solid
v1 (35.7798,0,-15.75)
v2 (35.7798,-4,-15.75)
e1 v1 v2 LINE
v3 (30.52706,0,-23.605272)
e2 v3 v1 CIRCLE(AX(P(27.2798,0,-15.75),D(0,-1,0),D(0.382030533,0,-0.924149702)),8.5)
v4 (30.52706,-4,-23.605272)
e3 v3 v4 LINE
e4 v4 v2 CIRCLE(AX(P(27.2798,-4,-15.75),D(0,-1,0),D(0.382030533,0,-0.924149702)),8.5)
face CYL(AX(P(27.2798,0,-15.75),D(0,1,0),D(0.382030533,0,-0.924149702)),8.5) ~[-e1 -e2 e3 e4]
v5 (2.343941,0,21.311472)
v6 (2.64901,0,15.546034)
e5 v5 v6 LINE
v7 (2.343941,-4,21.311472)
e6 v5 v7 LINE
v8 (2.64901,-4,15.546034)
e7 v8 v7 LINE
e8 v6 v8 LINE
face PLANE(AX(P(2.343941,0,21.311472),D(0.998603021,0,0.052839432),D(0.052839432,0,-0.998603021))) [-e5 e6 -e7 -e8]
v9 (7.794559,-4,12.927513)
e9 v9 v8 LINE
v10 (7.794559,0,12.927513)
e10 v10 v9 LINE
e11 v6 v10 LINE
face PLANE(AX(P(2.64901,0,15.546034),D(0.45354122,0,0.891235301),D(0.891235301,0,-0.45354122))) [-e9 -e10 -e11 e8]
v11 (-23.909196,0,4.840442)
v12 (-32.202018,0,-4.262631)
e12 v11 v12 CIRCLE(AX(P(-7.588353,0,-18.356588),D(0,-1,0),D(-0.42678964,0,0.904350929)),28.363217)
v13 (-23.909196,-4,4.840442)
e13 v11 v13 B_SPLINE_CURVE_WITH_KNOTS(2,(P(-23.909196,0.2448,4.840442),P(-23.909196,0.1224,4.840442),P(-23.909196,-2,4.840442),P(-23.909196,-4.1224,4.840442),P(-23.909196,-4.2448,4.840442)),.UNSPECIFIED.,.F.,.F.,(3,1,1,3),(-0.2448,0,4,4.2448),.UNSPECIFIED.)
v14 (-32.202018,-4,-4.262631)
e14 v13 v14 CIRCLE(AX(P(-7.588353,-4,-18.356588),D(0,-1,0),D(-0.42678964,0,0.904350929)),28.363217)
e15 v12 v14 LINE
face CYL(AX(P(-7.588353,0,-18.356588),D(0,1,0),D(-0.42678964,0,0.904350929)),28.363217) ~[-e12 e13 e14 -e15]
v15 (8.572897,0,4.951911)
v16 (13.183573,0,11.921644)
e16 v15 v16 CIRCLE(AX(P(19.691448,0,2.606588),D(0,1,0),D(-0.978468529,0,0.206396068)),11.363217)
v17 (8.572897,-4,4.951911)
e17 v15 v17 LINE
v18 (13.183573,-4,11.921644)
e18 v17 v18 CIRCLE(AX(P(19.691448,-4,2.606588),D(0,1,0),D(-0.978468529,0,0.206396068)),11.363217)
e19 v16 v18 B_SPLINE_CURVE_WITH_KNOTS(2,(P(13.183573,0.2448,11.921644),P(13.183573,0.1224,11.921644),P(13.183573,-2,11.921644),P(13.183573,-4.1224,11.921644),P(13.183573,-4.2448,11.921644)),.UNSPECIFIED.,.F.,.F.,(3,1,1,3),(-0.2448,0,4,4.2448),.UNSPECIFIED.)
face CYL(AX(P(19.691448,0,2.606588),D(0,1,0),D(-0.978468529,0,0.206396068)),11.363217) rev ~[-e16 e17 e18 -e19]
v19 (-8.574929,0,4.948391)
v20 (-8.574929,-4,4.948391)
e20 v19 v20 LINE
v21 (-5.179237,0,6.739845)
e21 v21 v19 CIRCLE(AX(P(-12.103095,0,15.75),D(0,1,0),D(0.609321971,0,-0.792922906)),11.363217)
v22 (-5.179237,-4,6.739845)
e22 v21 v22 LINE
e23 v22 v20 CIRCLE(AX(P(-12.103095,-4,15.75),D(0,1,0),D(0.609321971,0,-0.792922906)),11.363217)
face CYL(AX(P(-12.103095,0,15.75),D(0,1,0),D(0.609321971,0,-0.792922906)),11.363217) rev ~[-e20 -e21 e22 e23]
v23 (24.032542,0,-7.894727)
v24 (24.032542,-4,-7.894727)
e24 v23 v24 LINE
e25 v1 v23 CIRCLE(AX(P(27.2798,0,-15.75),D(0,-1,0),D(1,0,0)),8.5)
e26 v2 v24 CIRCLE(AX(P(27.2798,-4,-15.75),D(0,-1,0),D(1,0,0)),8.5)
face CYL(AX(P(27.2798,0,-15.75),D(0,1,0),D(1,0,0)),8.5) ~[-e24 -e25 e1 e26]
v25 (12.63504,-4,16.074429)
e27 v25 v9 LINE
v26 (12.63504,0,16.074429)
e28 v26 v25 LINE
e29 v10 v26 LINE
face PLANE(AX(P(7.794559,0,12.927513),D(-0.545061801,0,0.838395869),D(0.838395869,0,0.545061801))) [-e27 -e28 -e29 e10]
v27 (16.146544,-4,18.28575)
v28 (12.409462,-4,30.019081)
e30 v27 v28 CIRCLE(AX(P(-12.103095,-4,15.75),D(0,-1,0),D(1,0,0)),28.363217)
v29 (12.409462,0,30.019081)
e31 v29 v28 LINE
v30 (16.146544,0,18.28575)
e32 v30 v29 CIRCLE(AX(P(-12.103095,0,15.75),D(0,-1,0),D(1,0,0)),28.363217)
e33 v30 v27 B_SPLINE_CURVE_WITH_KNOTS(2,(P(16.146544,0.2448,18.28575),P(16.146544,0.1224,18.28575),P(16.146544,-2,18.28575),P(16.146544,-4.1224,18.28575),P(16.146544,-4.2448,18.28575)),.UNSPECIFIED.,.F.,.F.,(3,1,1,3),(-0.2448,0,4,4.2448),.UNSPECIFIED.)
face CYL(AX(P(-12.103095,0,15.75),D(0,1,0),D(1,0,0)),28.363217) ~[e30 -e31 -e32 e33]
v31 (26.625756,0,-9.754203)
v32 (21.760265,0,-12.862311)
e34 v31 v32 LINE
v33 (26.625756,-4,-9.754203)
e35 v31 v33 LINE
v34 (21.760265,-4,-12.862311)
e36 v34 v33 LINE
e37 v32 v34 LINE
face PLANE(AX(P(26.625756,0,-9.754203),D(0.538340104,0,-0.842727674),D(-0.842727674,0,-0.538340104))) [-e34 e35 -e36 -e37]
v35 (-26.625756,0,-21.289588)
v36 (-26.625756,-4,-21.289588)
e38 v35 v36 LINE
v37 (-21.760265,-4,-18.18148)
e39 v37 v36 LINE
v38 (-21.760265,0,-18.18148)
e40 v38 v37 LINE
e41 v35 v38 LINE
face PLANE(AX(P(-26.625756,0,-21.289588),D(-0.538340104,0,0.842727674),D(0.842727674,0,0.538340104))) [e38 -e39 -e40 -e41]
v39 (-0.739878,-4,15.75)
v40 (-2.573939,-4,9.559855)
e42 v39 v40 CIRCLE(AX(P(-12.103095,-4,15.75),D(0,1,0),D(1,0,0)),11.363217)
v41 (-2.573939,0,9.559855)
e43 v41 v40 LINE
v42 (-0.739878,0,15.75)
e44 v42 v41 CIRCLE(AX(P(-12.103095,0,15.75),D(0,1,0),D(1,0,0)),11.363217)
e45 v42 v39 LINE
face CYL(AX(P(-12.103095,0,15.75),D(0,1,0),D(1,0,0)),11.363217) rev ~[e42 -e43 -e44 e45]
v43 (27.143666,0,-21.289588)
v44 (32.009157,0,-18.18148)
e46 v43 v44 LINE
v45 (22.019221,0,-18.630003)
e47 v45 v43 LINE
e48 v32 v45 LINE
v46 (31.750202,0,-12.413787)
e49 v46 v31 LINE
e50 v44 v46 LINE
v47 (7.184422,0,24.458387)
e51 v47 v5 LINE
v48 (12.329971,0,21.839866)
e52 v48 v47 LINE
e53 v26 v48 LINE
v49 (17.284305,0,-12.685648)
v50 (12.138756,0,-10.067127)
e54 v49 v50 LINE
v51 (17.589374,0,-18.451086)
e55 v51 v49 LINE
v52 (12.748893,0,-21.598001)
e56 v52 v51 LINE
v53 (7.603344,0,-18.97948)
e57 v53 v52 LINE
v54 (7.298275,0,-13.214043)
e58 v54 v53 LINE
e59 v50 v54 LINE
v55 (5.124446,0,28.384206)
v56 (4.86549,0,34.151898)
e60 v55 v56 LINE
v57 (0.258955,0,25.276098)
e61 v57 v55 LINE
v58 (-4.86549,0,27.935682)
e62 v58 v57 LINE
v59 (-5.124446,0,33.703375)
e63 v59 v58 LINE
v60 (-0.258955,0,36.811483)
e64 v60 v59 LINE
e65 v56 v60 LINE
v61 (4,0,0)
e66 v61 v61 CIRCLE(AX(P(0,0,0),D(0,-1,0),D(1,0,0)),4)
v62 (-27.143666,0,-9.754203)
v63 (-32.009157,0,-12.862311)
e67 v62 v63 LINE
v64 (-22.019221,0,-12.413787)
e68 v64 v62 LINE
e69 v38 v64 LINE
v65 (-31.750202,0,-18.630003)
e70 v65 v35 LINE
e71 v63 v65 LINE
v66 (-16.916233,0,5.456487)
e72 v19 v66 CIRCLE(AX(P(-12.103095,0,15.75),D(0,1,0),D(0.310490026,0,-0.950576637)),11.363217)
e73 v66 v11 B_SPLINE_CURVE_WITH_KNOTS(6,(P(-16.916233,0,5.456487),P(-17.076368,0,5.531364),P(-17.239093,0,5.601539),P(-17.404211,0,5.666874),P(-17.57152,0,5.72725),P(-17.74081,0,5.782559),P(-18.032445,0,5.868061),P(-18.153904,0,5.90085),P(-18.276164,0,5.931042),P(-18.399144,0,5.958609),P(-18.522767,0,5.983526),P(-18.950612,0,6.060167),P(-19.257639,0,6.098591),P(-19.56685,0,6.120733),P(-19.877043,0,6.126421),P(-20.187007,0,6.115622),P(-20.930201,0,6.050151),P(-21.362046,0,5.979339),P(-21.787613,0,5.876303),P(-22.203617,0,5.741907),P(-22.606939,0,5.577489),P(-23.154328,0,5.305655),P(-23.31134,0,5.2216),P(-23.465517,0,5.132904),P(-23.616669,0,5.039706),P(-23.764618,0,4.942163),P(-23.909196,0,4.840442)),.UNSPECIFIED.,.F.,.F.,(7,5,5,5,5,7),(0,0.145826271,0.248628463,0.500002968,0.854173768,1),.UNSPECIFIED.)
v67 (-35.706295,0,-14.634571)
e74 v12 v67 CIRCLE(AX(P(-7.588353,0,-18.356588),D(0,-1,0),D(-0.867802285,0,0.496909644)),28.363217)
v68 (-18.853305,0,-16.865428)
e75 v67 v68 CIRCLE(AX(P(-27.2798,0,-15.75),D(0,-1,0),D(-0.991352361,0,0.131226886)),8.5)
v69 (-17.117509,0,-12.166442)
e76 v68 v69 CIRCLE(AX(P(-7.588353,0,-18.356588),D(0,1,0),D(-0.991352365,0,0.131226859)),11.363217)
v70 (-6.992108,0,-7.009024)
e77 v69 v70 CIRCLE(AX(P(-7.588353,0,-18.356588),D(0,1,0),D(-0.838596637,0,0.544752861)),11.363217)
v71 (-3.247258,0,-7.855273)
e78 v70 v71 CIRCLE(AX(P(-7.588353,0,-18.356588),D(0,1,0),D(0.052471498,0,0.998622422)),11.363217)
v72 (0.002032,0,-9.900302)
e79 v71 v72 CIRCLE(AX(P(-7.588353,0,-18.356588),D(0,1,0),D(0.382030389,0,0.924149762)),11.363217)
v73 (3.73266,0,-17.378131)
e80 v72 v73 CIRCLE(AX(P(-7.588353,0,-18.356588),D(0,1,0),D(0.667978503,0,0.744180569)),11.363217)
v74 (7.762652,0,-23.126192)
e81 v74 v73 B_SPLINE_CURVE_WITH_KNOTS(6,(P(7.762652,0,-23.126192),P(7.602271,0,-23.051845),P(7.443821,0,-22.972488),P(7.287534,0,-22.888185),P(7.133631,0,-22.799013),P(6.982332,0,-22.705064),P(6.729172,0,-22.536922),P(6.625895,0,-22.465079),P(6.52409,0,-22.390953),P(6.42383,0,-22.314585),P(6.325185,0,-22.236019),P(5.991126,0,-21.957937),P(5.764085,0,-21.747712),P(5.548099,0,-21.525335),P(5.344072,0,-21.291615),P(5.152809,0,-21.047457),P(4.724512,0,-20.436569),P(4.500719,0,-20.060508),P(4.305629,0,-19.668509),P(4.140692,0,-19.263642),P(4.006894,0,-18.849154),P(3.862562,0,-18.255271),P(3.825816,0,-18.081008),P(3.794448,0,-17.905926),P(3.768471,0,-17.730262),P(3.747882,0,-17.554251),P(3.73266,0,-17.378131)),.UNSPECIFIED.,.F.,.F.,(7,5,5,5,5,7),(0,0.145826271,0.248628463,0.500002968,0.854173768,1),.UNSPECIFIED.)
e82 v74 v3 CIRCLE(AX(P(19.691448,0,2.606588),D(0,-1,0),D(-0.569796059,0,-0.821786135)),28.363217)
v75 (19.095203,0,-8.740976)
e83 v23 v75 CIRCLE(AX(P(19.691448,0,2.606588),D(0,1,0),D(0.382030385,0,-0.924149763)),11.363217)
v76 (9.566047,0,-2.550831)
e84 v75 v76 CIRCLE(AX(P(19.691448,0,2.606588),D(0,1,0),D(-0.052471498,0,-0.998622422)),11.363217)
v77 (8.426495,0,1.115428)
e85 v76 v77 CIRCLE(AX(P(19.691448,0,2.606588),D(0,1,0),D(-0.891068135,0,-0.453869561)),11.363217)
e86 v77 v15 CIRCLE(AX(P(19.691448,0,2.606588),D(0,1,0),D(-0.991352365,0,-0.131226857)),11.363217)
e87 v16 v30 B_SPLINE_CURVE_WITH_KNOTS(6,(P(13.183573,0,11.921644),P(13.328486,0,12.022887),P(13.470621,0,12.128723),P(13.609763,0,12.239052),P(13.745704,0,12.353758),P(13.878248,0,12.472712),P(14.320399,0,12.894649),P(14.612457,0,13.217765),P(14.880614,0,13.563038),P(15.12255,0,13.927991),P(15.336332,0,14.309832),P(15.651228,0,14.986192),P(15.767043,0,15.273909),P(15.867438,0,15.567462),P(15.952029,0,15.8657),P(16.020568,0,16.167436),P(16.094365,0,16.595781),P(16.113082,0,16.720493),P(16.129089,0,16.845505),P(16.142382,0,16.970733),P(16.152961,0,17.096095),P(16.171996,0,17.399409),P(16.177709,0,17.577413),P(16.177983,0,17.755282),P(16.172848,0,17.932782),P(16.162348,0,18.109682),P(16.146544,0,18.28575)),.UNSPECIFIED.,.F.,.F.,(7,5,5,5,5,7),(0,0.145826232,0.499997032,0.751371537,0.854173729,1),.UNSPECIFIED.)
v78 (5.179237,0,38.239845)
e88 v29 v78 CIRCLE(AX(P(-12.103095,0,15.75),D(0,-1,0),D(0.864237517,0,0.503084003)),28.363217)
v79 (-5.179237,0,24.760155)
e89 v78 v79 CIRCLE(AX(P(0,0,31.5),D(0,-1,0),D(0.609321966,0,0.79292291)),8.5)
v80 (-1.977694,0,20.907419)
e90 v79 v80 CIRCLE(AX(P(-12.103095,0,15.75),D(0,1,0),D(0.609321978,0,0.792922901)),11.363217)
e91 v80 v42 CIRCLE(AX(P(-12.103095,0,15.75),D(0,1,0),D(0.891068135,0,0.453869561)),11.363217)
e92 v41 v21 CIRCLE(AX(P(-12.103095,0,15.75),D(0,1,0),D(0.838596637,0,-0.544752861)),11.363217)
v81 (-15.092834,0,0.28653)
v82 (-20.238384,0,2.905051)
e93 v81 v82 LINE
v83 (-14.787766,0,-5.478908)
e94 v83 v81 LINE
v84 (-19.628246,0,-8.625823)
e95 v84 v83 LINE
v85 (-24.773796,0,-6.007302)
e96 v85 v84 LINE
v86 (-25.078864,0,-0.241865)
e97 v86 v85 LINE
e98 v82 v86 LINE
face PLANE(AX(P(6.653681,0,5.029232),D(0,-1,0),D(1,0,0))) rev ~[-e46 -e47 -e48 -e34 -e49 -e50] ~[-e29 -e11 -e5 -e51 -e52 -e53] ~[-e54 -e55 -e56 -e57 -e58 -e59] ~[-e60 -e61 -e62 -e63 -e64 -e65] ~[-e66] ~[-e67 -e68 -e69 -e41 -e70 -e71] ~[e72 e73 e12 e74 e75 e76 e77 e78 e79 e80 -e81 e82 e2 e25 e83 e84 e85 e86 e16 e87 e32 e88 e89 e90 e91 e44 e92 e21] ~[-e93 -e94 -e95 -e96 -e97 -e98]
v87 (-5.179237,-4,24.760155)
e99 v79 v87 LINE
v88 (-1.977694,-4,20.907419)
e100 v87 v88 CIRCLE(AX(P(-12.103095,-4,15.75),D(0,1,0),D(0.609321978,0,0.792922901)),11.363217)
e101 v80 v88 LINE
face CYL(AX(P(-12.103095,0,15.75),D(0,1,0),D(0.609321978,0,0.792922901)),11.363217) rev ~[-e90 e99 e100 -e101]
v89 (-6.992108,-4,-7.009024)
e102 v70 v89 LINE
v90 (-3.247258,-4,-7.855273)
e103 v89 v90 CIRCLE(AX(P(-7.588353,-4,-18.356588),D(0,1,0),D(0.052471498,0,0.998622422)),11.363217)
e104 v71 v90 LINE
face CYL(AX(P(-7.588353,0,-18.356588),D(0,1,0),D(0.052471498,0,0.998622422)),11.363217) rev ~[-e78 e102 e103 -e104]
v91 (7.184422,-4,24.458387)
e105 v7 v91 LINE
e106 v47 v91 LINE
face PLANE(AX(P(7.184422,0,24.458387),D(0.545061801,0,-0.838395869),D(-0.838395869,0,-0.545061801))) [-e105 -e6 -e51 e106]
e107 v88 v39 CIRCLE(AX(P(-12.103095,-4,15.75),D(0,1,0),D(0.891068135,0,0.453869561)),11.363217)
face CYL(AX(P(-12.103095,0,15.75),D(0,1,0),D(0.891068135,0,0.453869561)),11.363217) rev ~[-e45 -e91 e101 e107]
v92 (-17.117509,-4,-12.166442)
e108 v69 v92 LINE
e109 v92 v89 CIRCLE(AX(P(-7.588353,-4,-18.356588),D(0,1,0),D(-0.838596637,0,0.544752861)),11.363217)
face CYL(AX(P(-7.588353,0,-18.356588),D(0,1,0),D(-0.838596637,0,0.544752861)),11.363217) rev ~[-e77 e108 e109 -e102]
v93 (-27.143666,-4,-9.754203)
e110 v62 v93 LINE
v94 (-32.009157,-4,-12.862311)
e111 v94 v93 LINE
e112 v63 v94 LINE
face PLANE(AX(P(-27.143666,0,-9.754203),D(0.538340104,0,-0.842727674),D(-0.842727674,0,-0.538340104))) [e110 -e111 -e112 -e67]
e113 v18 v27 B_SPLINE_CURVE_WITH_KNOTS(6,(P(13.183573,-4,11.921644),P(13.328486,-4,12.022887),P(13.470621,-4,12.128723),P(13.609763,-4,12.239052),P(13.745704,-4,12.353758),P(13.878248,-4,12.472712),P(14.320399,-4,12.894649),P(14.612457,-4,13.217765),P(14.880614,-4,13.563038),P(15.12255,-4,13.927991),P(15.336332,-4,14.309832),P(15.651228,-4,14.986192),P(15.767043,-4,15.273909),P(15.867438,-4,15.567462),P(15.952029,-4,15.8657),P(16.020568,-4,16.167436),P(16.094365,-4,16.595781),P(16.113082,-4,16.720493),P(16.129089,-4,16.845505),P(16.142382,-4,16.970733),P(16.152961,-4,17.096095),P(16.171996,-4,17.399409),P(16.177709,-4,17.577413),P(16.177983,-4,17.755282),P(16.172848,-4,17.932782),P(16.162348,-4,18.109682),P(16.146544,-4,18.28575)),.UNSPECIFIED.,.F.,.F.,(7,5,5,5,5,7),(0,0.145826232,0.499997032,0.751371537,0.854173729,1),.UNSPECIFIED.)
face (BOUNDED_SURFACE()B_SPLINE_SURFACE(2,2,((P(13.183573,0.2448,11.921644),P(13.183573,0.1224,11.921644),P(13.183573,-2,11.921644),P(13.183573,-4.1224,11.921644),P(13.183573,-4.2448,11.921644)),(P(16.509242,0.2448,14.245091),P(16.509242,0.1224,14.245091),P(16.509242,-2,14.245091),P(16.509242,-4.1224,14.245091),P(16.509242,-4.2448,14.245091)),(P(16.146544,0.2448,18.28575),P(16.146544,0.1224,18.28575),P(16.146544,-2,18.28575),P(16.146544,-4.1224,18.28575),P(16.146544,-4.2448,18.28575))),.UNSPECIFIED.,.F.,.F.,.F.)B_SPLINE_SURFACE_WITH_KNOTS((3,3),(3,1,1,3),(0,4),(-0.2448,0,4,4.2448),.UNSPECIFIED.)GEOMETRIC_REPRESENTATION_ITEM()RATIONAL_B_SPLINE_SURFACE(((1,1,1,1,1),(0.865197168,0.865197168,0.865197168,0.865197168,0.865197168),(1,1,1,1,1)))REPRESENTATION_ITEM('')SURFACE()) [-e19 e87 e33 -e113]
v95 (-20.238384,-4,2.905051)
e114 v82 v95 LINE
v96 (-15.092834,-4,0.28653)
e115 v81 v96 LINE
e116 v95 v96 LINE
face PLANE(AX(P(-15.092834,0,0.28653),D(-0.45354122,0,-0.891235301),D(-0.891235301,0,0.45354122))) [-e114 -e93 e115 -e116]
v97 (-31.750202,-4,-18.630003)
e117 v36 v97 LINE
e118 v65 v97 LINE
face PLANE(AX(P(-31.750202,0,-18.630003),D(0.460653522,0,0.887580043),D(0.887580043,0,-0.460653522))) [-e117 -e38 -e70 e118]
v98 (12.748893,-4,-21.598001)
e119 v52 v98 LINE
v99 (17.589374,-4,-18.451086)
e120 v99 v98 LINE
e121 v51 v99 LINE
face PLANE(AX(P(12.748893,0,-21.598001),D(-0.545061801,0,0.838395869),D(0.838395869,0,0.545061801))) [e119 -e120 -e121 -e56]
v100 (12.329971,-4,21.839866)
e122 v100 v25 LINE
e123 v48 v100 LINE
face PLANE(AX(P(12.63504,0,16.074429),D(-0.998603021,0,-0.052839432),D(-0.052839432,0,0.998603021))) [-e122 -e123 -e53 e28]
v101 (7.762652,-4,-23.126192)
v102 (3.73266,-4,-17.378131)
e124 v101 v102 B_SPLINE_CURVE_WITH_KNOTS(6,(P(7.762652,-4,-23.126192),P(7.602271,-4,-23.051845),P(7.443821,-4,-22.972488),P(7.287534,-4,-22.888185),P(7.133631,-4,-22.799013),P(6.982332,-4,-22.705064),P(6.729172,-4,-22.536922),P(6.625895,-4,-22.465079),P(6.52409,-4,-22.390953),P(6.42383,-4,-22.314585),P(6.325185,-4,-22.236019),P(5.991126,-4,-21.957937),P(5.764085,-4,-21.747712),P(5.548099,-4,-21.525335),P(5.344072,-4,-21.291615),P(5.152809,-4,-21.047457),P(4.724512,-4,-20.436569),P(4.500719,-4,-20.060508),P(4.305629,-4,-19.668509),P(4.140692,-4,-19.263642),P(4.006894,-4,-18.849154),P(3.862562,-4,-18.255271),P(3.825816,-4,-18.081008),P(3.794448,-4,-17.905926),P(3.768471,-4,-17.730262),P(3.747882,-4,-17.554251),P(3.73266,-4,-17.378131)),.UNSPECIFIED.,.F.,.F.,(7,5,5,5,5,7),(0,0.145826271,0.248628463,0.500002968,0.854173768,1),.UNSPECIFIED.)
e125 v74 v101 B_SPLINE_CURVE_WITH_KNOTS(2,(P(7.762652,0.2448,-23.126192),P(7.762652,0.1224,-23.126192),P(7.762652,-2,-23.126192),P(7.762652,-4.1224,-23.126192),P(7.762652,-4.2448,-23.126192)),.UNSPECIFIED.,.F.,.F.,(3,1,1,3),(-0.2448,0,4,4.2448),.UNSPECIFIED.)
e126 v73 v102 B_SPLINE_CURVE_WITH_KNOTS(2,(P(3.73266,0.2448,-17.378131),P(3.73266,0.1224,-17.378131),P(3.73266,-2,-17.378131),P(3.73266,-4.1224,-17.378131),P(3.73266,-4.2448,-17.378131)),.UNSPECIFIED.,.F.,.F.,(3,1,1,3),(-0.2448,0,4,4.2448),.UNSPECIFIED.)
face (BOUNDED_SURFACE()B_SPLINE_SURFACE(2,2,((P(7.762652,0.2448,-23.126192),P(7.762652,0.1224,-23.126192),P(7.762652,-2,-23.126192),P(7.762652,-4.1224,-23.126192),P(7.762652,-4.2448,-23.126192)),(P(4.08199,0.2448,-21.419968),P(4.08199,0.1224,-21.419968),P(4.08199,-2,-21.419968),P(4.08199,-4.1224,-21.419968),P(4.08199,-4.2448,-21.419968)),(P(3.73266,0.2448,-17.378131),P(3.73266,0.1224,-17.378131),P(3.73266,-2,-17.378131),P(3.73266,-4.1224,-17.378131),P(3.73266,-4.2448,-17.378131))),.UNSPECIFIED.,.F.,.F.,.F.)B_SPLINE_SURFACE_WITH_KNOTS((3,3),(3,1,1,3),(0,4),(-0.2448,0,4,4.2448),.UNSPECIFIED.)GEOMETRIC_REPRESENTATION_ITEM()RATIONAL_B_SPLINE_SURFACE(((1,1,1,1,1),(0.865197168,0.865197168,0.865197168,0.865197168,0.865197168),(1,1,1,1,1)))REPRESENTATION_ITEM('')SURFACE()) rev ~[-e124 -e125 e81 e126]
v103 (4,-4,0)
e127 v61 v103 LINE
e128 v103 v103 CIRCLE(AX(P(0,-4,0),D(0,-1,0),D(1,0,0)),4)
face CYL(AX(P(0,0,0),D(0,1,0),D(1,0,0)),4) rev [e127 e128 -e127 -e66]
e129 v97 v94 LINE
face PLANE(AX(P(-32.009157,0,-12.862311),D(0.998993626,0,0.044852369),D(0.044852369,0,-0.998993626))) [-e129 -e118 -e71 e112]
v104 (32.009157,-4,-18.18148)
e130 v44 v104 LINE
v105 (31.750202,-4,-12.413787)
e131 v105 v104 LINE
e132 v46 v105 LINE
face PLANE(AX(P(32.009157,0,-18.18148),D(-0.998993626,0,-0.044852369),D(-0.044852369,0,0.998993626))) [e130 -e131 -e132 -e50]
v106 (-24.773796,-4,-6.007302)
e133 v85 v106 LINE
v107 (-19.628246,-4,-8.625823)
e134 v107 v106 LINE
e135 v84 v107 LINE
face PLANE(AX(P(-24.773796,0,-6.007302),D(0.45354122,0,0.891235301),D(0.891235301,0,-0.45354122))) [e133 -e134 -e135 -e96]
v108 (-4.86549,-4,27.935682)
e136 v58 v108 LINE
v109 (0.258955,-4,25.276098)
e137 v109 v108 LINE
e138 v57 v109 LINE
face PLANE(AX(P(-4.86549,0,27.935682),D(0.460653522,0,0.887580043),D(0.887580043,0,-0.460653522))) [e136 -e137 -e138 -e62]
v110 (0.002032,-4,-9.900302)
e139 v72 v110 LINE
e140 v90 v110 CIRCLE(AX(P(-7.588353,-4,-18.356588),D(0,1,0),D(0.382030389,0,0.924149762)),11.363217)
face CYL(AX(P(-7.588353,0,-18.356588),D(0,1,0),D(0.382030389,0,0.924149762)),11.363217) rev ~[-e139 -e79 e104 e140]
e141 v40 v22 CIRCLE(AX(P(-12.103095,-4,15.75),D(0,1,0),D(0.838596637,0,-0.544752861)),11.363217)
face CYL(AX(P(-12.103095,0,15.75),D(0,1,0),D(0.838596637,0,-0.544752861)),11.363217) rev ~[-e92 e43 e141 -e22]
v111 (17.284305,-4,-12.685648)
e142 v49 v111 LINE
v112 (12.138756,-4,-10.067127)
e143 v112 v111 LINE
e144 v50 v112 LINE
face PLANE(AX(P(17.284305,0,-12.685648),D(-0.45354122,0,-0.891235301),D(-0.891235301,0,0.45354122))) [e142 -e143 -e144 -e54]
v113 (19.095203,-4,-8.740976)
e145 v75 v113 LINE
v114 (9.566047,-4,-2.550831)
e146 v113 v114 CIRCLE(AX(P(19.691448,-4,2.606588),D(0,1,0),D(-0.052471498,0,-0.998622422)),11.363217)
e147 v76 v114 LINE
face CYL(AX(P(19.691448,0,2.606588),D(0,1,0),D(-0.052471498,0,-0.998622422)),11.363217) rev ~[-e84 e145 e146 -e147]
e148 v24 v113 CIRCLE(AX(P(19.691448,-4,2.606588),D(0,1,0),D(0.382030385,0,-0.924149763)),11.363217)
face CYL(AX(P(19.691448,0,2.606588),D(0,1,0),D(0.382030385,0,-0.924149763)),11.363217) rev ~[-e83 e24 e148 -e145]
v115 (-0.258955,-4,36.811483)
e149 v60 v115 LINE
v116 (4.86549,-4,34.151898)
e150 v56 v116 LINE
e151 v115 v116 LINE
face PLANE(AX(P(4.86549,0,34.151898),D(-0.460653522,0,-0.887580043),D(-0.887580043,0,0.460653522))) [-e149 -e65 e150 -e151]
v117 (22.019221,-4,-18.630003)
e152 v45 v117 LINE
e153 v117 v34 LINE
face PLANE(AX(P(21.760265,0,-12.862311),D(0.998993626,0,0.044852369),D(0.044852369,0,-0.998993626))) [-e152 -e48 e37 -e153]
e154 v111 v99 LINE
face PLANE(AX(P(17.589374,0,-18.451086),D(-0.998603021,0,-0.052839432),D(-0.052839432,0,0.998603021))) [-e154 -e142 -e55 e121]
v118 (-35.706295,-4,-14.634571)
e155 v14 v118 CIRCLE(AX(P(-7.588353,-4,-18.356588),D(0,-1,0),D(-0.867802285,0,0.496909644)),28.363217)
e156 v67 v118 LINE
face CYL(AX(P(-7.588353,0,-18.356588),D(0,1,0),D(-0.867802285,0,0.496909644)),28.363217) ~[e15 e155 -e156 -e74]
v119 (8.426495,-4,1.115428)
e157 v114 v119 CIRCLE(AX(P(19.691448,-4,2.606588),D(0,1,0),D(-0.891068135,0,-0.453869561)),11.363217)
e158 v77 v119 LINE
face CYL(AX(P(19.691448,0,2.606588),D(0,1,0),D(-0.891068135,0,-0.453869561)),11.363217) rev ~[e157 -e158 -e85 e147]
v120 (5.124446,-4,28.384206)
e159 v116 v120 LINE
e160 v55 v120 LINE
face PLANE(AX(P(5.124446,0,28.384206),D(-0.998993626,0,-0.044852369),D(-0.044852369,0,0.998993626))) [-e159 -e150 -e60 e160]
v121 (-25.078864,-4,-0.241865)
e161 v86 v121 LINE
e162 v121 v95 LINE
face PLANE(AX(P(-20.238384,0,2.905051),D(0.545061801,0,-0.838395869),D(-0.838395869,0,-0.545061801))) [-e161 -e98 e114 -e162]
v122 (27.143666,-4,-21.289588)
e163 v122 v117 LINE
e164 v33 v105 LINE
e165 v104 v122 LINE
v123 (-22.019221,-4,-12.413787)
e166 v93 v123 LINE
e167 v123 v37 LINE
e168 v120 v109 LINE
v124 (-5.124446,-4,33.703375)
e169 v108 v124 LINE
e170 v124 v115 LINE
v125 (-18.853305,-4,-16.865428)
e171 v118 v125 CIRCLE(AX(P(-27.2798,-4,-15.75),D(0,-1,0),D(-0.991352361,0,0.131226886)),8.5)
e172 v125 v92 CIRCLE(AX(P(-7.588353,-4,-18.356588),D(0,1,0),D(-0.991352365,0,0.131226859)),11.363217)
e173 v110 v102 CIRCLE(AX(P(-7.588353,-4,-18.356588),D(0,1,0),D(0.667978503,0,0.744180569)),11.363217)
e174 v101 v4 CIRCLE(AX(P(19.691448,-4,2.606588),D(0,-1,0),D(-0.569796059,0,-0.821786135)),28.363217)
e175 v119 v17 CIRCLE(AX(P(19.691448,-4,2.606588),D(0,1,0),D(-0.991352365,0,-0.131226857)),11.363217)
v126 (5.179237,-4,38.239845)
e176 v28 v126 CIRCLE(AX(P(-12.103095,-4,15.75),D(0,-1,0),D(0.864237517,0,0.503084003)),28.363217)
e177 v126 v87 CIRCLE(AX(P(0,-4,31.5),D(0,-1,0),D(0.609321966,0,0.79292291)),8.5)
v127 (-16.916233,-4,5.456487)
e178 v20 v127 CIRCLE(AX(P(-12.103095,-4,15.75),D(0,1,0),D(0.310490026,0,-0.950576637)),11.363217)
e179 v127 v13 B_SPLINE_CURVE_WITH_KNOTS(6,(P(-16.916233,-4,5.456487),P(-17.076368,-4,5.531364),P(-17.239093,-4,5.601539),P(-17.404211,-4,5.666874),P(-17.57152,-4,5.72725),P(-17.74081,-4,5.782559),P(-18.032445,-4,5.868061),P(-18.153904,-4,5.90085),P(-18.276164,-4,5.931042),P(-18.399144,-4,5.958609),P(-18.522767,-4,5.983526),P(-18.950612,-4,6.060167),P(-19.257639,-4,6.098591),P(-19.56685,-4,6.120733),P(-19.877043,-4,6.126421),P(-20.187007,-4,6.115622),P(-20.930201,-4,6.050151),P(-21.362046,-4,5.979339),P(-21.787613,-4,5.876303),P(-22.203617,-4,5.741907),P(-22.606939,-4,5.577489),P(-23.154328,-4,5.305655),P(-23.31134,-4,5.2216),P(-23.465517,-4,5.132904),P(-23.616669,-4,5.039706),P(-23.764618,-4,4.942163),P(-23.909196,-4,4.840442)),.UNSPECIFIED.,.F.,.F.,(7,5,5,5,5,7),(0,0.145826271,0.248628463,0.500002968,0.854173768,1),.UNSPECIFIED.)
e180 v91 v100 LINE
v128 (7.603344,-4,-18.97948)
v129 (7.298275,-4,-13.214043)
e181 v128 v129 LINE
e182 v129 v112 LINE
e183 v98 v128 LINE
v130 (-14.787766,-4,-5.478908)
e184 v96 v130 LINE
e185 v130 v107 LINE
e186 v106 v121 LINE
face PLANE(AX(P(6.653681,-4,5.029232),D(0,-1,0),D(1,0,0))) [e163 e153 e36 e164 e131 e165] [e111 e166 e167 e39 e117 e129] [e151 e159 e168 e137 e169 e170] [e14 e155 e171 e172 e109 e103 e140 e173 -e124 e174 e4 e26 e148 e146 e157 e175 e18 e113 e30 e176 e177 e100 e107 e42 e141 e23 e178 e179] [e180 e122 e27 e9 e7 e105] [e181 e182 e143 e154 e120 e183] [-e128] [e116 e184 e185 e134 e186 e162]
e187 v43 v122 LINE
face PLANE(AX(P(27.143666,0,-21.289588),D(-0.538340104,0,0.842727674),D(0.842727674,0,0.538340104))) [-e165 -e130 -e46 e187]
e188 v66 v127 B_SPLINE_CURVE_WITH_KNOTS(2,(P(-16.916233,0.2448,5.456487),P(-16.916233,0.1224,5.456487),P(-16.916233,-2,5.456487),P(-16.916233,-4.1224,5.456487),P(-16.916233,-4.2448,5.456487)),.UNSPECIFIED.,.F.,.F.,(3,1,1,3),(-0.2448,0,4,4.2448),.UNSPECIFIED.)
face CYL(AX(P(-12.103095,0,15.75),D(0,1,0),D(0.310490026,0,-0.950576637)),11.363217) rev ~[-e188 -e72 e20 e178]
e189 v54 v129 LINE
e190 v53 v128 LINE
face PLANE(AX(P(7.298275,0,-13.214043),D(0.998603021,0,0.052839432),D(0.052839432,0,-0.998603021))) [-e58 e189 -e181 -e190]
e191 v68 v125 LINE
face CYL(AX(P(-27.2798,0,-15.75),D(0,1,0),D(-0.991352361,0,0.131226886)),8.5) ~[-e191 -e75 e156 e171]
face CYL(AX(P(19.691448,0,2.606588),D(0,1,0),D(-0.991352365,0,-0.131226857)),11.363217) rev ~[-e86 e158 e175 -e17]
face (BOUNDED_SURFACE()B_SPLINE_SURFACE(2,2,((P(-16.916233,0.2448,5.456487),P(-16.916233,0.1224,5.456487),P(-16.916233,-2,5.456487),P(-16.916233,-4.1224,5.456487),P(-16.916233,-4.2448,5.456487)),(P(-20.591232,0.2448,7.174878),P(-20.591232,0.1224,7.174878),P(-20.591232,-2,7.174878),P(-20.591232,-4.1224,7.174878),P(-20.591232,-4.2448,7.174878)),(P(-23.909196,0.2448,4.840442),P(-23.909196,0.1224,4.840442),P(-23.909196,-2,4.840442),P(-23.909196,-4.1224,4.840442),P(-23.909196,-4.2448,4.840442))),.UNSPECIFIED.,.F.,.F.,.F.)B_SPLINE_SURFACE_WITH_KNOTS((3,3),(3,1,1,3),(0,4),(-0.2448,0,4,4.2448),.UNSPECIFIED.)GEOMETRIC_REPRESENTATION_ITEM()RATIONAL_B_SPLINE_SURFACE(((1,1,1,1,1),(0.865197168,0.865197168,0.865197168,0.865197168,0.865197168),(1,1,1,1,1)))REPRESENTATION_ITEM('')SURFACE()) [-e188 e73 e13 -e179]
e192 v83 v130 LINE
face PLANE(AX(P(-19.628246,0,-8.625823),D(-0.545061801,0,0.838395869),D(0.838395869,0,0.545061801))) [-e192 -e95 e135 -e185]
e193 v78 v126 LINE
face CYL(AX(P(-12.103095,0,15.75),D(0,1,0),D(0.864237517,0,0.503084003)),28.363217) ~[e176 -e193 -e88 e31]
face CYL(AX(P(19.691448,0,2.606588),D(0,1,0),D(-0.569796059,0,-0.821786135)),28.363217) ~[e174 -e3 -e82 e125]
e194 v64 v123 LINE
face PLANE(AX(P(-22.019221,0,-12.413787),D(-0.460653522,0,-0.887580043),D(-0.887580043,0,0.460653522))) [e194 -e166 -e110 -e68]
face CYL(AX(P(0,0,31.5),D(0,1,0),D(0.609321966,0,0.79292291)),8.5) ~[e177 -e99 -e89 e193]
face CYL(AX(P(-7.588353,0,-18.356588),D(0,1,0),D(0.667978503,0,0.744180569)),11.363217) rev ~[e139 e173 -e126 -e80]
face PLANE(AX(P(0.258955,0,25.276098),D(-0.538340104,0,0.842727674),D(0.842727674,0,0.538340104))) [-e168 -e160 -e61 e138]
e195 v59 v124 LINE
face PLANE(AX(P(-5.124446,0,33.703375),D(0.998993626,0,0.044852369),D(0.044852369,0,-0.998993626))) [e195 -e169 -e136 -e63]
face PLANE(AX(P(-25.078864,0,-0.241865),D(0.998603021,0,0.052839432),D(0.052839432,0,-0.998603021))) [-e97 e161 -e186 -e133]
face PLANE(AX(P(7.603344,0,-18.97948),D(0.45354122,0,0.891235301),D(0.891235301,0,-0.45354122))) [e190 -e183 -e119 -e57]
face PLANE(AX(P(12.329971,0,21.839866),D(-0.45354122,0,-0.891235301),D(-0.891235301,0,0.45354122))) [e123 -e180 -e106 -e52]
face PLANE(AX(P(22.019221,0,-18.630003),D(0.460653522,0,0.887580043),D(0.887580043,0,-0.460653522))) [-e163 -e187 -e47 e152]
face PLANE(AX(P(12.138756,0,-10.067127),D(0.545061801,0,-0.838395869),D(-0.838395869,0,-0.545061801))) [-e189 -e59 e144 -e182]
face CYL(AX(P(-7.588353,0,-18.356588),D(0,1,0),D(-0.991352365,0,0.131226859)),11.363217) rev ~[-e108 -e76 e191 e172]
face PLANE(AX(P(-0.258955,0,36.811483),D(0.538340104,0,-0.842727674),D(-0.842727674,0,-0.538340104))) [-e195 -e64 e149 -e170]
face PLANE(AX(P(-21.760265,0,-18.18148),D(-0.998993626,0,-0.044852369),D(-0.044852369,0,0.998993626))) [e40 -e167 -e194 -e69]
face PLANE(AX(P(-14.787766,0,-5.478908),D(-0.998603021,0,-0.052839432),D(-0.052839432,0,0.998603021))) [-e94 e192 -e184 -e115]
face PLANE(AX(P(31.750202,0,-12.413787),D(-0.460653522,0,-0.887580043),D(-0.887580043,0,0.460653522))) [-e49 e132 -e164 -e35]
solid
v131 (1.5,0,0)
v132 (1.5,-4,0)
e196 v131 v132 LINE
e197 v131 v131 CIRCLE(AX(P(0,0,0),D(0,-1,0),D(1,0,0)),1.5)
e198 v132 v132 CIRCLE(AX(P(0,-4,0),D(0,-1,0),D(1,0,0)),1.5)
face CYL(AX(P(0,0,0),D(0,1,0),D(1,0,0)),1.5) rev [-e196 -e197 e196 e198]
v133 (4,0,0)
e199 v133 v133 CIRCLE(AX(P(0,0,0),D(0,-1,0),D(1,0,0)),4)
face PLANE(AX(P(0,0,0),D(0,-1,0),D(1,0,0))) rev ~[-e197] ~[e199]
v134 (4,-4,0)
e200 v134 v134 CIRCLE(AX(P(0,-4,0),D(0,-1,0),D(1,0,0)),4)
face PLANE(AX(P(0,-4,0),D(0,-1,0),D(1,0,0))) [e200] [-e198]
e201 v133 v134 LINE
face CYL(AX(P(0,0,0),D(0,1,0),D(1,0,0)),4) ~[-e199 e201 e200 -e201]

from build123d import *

# Parameters (mm, degrees)
F0_R     = 4
F0_R_2   = 1.5
F1_DEPTH = 4
F2_DEPTH = 4
F3_R     = 7
F5_DEPTH = 5


with BuildPart() as f1:
    # F0 (on Front) → F1 (new body)
    with BuildSketch(Plane.XZ):
        Circle(F0_R)
        Circle(F0_R_2, mode=Mode.SUBTRACT)
    extrude(amount=F1_DEPTH)


with BuildPart() as f2:
    # F0 (on Front) → F2 (new body)
    with BuildSketch(Plane.XZ):
        with BuildLine():
            ThreePointArc((8.4264950876, 1.1154284105), (8.3364947708, 3.0398975998), (8.5728969157, 4.9519111309))
            ThreePointArc((8.5728969157, 4.9519111309), (5.9879137453, 6.5463658555), (3.2472592539, 7.855272582))
            ThreePointArc((3.2472592539, 7.855272582), (6.7398449515, 5.179236433), (8.4264950876, 1.1154284105))
        make_face()
        with BuildLine():
            ThreePointArc((3.2472592539, 7.855272582), (0.3823579471, 8.8636231205), (-2.5739390259, 9.5598547723))
            ThreePointArc((-2.5739390259, 9.5598547723), (-3.7566267506, 8.03902216), (-5.1792369207, 6.7398445768))
            ThreePointArc((-5.1792369207, 6.7398445768), (-1.1154278708, 8.426495159), (3.2472592539, 7.855272582))
        make_face()
        with BuildLine():
            ThreePointArc((-5.1792369207, 6.7398445768), (-6.8008759525, 5.6996674391), (-8.5749292945, 4.9483909476))
            ThreePointArc((-8.5749292945, 4.9483909476), (-8.6632759945, 1.9125020225), (-8.4264951136, -1.1154282143))
            ThreePointArc((-8.4264951136, -1.1154282143), (-7.8552729871, 3.2472582739), (-5.1792369207, 6.7398445768))
        make_face()
        with BuildLine():
            ThreePointArc((-3.2472582285, -7.8552730059), (-6.7398446738, -5.1792367945), (-8.4264951136, -1.1154282143))
            ThreePointArc((-8.4264951136, -1.1154282143), (-7.8673016546, -4.1006803203), (-6.9921075763, -7.0090239704))
            ThreePointArc((-6.9921075763, -7.0090239704), (-5.0836840726, -7.2728452704), (-3.2472582285, -7.8552730059))
        make_face()
        with BuildLine():
            ThreePointArc((5.1792370288, -6.7398444937), (1.1154284884, -8.4264950773), (-3.2472582285, -7.8552730059))
            ThreePointArc((-3.2472582285, -7.8552730059), (-1.5356188502, -8.7395650429), (0.0020323788, -9.9003020785))
            ThreePointArc((0.0020323788, -9.9003020785), (2.6753628237, -8.4588680032), (5.1792370288, -6.7398444937))
        make_face()
        with BuildLine():
            ThreePointArc((5.1792370288, -6.7398444937), (7.4849442954, -4.7629428002), (9.5660466022, -2.5508308019))
            ThreePointArc((9.5660466022, -2.5508308019), (8.8403107944, -0.7661769039), (8.4264950876, 1.1154284105))
            ThreePointArc((8.4264950876, 1.1154284105), (8.481603865, 0.5589238569), (8.5, 0))
            ThreePointArc((8.5, 0), (7.6247463809, -3.7567595914), (5.1792370288, -6.7398444937))
        make_face()
        with BuildLine():
            ThreePointArc((12.4094616626, 30.0190809707), (10.130341663, 29.3097215933), (7.9189370673, 28.4112404231))
            ThreePointArc((7.9189370673, 28.4112404231), (4.7869347023, 24.4760939531), (-0.0209795681, 23.0000258908))
            ThreePointArc((-0.0209795681, 23.0000258908), (-1.0257749344, 21.9784434837), (-1.9776939863, 20.9074185254))
            ThreePointArc((-1.9776939863, 20.9074185254), (-1.0536641236, 18.4019405846), (-0.7398775171, 15.75))
            ThreePointArc((-0.7398775171, 15.75), (-1.2080368697, 12.5219324837), (-2.5739390259, 9.5598547723))
            ThreePointArc((-2.5739390259, 9.5598547723), (0.3823579471, 8.8636231205), (3.2472592539, 7.855272582))
            ThreePointArc((3.2472592539, 7.855272582), (5.9879137453, 6.5463658555), (8.5728969157, 4.9519111309))
            ThreePointArc((8.5728969157, 4.9519111309), (11.2351619583, 10.1969727182), (16.1632819104, 13.4081967759))
            ThreePointArc((16.1632819104, 13.4081967759), (16.2359019984, 14.5780976537), (16.2601224829, 15.75))
            ThreePointArc((16.2601224829, 15.75), (15.2805413698, 23.1397608301), (12.4094616626, 30.0190809707))
        make_face()
        with BuildLine():
            ThreePointArc((-0.0209795681, 23.0000258908), (4.7869347023, 24.4760939531), (7.9189370673, 28.4112404231))
            ThreePointArc((7.9189370673, 28.4112404231), (3.7181687825, 26.0443023941), (-0.0209795681, 23.0000258908))
        make_face()
        with BuildLine():
            ThreePointArc((7.9189370673, 28.4112404231), (8.3534712866, 29.9285301582), (8.5, 31.5))
            ThreePointArc((8.5, 31.5), (7.6247462922, 35.2567597714), (5.1792367107, 38.2398447382))
            ThreePointArc((5.1792367107, 38.2398447382), (-6.7398446866, 36.6792367779), (-5.1792368451, 24.7601553651))
            ThreePointArc((-5.1792368451, 24.7601553651), (-2.7450094039, 23.4554413811), (-0.0209795681, 23.0000258908))
            ThreePointArc((-0.0209795681, 23.0000258908), (3.7181687825, 26.0443023941), (7.9189370673, 28.4112404231))
        make_face()
        with BuildLine():
            ThreePointArc((5.1792367107, 38.2398447382), (7.6247462922, 35.2567597714), (8.5, 31.5))
            ThreePointArc((8.5, 31.5), (8.3534712866, 29.9285301582), (7.9189370673, 28.4112404231))
            ThreePointArc((7.9189370673, 28.4112404231), (10.130341663, 29.3097215933), (12.4094616626, 30.0190809707))
            ThreePointArc((12.4094616626, 30.0190809707), (9.1947549566, 34.4816228083), (5.1792367107, 38.2398447382))
        make_face()
        with BuildLine():
            ThreePointArc((-0.0209795681, 23.0000258908), (-2.7450094039, 23.4554413811), (-5.1792368451, 24.7601553651))
            ThreePointArc((-5.1792368451, 24.7601553651), (-3.3635180741, 23.0124036417), (-1.9776939863, 20.9074185254))
            ThreePointArc((-1.9776939863, 20.9074185254), (-1.0257749344, 21.9784434837), (-0.0209795681, 23.0000258908))
        make_face()
        with BuildLine():
            ThreePointArc((20.6453874258, -21.0636208828), (25.1624433763, -23.9820592806), (30.5270597502, -23.6052724675))
            ThreePointArc((30.5270597502, -23.6052724675), (34.3456231017, -20.4748435946), (35.7798002192, -15.75))
            ThreePointArc((35.7798002192, -15.75), (32.0046443813, -8.684177497), (24.03254195, -7.8947270109))
            ThreePointArc((24.03254195, -7.8947270109), (21.6855127867, -9.3504728204), (19.9290964931, -11.4818441065))
            ThreePointArc((19.9290964931, -11.4818441065), (20.5626287043, -14.8933008483), (20.7748648544, -18.3565877235))
            ThreePointArc((20.7748648544, -18.3565877235), (20.7424770055, -19.7116516454), (20.6453874258, -21.0636208828))
        make_face()
        with BuildLine():
            ThreePointArc((19.9290964931, -11.4818441065), (18.8034517976, -16.383654035), (20.6453874258, -21.0636208828))
            ThreePointArc((20.6453874258, -21.0636208828), (20.7424770055, -19.7116516454), (20.7748648544, -18.3565877235))
            ThreePointArc((20.7748648544, -18.3565877235), (20.5626287043, -14.8933008483), (19.9290964931, -11.4818441065))
        make_face()
        with BuildLine():
            ThreePointArc((24.03254195, -7.8947270109), (21.611085182, -8.5933097245), (19.0952025637, -8.7409760296))
            ThreePointArc((19.0952025637, -8.7409760296), (19.5467778597, -10.1008745901), (19.9290964931, -11.4818441065))
            ThreePointArc((19.9290964931, -11.4818441065), (21.6855127867, -9.3504728204), (24.03254195, -7.8947270109))
        make_face()
        with BuildLine():
            ThreePointArc((3.5301980717, -20.7019111309), (11.2730674839, -24.4785185424), (19.7925558876, -25.7564495325))
            ThreePointArc((19.7925558876, -25.7564495325), (20.3177926461, -23.4279940258), (20.6453874258, -21.0636208828))
            ThreePointArc((20.6453874258, -21.0636208828), (18.8034517976, -16.383654035), (19.9290964931, -11.4818441065))
            ThreePointArc((19.9290964931, -11.4818441065), (19.5467778597, -10.1008745901), (19.0952025637, -8.7409760296))
            ThreePointArc((19.0952025637, -8.7409760296), (13.5013023755, -6.9225682379), (9.5660466022, -2.5508308019))
            ThreePointArc((9.5660466022, -2.5508308019), (7.4849442954, -4.7629428002), (5.1792370288, -6.7398444937))
            ThreePointArc((5.1792370288, -6.7398444937), (2.6753628237, -8.4588680032), (0.0020323788, -9.9003020785))
            ThreePointArc((0.0020323788, -9.9003020785), (2.7888798344, -13.7267110567), (3.7748648544, -18.3565877235))
            ThreePointArc((3.7748648544, -18.3565877235), (3.7135326404, -19.5356131388), (3.5301980717, -20.7019111309))
        make_face()
        with BuildLine():
            ThreePointArc((19.7925558876, -25.7564495325), (25.2645844345, -25.2037026585), (30.5270597502, -23.6052724675))
            ThreePointArc((30.5270597502, -23.6052724675), (25.1624433763, -23.9820592806), (20.6453874258, -21.0636208828))
            ThreePointArc((20.6453874258, -21.0636208828), (20.3177926461, -23.4279940258), (19.7925558876, -25.7564495325))
        make_face()
        with BuildLine():
            ThreePointArc((-19.9081169251, -11.5181817843), (-24.4141118884, -9.8021225759), (-28.5643244931, -7.3476195403))
            ThreePointArc((-28.5643244931, -7.3476195403), (-33.350293716, -9.8002849895), (-35.7062952911, -14.6345714711))
            ThreePointArc((-35.7062952911, -14.6345714711), (-28.3952286751, -24.1764950816), (-18.853305128, -16.8654283828))
            ThreePointArc((-18.853305128, -16.8654283828), (-18.7981963533, -16.3089238429), (-18.7798002192, -15.75))
            ThreePointArc((-18.7798002192, -15.75), (-19.0667219899, -13.5601721529), (-19.9081169251, -11.5181817843))
        make_face()
        with BuildLine():
            ThreePointArc((-28.5643244931, -7.3476195403), (-30.4481343091, -5.8817275674), (-32.2020175502, -4.2626314382))
            ThreePointArc((-32.2020175502, -4.2626314382), (-34.45933874, -9.2779198704), (-35.7062952911, -14.6345714711))
            ThreePointArc((-35.7062952911, -14.6345714711), (-33.350293716, -9.8002849895), (-28.5643244931, -7.3476195403))
        make_face()
        with BuildLine():
            ThreePointArc((-19.6934799821, 7.293714355), (-26.8355526467, 2.4764964516), (-32.2020175502, -4.2626314382))
            ThreePointArc((-32.2020175502, -4.2626314382), (-30.4481343091, -5.8817275674), (-28.5643244931, -7.3476195403))
            ThreePointArc((-28.5643244931, -7.3476195403), (-23.5903864999, -8.0924399181), (-19.9081169251, -11.5181817843))
            ThreePointArc((-19.9081169251, -11.5181817843), (-18.5210029253, -11.8775688936), (-17.1175085773, -12.1664424957))
            ThreePointArc((-17.1175085773, -12.1664424957), (-12.7457711413, -8.2311867224), (-6.9921075763, -7.0090239704))
            ThreePointArc((-6.9921075763, -7.0090239704), (-7.8673016546, -4.1006803203), (-8.4264951136, -1.1154282143))
            ThreePointArc((-8.4264951136, -1.1154282143), (-8.6632759945, 1.9125020225), (-8.5749292945, 4.9483909476))
            ThreePointArc((-8.5749292945, 4.9483909476), (-14.4484183948, 4.6314493124), (-19.6934799821, 7.293714355))
        make_face()
        with BuildLine():
            ThreePointArc((-19.9081169251, -11.5181817843), (-23.5903864999, -8.0924399181), (-28.5643244931, -7.3476195403))
            ThreePointArc((-28.5643244931, -7.3476195403), (-24.4141118884, -9.8021225759), (-19.9081169251, -11.5181817843))
        make_face()
        with BuildLine():
            ThreePointArc((-17.1175085773, -12.1664424957), (-18.5210029253, -11.8775688936), (-19.9081169251, -11.5181817843))
            ThreePointArc((-19.9081169251, -11.5181817843), (-19.0667219899, -13.5601721529), (-18.7798002192, -15.75))
            ThreePointArc((-18.7798002192, -15.75), (-18.7981963533, -16.3089238429), (-18.853305128, -16.8654283828))
            ThreePointArc((-18.853305128, -16.8654283828), (-18.2475671223, -14.4190939286), (-17.1175085773, -12.1664424957))
        make_face()
        with BuildLine():
            ThreePointArc((3.2472592539, 7.855272582), (-1.1154278708, 8.426495159), (-5.1792369207, 6.7398445768))
            ThreePointArc((-5.1792369207, 6.7398445768), (-7.8552729871, 3.2472582739), (-8.4264951136, -1.1154282143))
            ThreePointArc((-8.4264951136, -1.1154282143), (-6.7398446738, -5.1792367945), (-3.2472582285, -7.8552730059))
            ThreePointArc((-3.2472582285, -7.8552730059), (1.1154284884, -8.4264950773), (5.1792370288, -6.7398444937))
            ThreePointArc((5.1792370288, -6.7398444937), (7.6247463809, -3.7567595914), (8.5, 0))
            ThreePointArc((8.5, 0), (8.481603865, 0.5589238569), (8.4264950876, 1.1154284105))
            ThreePointArc((8.4264950876, 1.1154284105), (6.7398449515, 5.179236433), (3.2472592539, 7.855272582))
        make_face()
        Circle(F0_R, mode=Mode.SUBTRACT)
    extrude(amount=F2_DEPTH)

    # F3
    f3_edges = [f2.edges().sort_by_distance(p)[0] for p in [
        (16.163282, -2, 13.408197),
        (-19.69348, -2, 7.293714),
        (3.530198, -2, -20.701911),
    ]]
    fillet(f3_edges, radius=F3_R)

    # F4 (on Front) → F5 (cut)
    with BuildSketch(Plane.XZ):
        Polygon((0.2589552739, 25.2760980245), (5.1244457674, 28.3842060648), (4.8654904936, 34.1518984543), (-0.2589552739, 36.8114828034), (-5.1244457674, 33.7033747631), (-4.8654904936, 27.9356823736), align=None)
        Polygon((7.1844218157, 24.4583874775), (2.3439410107, 21.3114717), (2.6490096151, 15.5460344677), (7.7945590244, 12.9275130128), (12.6350398293, 16.0744287902), (12.329971225, 21.8398660226), align=None)
        Polygon((27.1436664021, -21.2895875964), (32.0091568957, -18.1814795561), (31.7502016218, -12.4137871666), (26.6257558544, -9.7542028175), (21.7602653608, -12.8623108579), (22.0192206347, -18.6300032473), align=None)
        Polygon((17.5893739832, -18.4510855426), (17.2843053789, -12.6856483103), (12.1387559696, -10.0671268554), (7.2982751646, -13.2140426328), (7.603343769, -18.9794798652), (12.7488931783, -21.59800132), align=None)
        Polygon((-15.092834189, 0.28652962), (-20.2383835983, 2.9050510749), (-25.0788644033, -0.2418647025), (-24.7737957989, -6.0073019349), (-19.6282463896, -8.6258233897), (-14.7877655847, -5.4789076123), align=None)
        Polygon((-32.0091568957, -12.8623108579), (-31.7502016218, -18.6300032473), (-26.6257558544, -21.2895875964), (-21.7602653608, -18.1814795561), (-22.0192206347, -12.4137871666), (-27.1436664021, -9.7542028175), align=None)
    extrude(amount=F5_DEPTH, mode=Mode.SUBTRACT)


solid = Compound([f1.part, f2.part])
